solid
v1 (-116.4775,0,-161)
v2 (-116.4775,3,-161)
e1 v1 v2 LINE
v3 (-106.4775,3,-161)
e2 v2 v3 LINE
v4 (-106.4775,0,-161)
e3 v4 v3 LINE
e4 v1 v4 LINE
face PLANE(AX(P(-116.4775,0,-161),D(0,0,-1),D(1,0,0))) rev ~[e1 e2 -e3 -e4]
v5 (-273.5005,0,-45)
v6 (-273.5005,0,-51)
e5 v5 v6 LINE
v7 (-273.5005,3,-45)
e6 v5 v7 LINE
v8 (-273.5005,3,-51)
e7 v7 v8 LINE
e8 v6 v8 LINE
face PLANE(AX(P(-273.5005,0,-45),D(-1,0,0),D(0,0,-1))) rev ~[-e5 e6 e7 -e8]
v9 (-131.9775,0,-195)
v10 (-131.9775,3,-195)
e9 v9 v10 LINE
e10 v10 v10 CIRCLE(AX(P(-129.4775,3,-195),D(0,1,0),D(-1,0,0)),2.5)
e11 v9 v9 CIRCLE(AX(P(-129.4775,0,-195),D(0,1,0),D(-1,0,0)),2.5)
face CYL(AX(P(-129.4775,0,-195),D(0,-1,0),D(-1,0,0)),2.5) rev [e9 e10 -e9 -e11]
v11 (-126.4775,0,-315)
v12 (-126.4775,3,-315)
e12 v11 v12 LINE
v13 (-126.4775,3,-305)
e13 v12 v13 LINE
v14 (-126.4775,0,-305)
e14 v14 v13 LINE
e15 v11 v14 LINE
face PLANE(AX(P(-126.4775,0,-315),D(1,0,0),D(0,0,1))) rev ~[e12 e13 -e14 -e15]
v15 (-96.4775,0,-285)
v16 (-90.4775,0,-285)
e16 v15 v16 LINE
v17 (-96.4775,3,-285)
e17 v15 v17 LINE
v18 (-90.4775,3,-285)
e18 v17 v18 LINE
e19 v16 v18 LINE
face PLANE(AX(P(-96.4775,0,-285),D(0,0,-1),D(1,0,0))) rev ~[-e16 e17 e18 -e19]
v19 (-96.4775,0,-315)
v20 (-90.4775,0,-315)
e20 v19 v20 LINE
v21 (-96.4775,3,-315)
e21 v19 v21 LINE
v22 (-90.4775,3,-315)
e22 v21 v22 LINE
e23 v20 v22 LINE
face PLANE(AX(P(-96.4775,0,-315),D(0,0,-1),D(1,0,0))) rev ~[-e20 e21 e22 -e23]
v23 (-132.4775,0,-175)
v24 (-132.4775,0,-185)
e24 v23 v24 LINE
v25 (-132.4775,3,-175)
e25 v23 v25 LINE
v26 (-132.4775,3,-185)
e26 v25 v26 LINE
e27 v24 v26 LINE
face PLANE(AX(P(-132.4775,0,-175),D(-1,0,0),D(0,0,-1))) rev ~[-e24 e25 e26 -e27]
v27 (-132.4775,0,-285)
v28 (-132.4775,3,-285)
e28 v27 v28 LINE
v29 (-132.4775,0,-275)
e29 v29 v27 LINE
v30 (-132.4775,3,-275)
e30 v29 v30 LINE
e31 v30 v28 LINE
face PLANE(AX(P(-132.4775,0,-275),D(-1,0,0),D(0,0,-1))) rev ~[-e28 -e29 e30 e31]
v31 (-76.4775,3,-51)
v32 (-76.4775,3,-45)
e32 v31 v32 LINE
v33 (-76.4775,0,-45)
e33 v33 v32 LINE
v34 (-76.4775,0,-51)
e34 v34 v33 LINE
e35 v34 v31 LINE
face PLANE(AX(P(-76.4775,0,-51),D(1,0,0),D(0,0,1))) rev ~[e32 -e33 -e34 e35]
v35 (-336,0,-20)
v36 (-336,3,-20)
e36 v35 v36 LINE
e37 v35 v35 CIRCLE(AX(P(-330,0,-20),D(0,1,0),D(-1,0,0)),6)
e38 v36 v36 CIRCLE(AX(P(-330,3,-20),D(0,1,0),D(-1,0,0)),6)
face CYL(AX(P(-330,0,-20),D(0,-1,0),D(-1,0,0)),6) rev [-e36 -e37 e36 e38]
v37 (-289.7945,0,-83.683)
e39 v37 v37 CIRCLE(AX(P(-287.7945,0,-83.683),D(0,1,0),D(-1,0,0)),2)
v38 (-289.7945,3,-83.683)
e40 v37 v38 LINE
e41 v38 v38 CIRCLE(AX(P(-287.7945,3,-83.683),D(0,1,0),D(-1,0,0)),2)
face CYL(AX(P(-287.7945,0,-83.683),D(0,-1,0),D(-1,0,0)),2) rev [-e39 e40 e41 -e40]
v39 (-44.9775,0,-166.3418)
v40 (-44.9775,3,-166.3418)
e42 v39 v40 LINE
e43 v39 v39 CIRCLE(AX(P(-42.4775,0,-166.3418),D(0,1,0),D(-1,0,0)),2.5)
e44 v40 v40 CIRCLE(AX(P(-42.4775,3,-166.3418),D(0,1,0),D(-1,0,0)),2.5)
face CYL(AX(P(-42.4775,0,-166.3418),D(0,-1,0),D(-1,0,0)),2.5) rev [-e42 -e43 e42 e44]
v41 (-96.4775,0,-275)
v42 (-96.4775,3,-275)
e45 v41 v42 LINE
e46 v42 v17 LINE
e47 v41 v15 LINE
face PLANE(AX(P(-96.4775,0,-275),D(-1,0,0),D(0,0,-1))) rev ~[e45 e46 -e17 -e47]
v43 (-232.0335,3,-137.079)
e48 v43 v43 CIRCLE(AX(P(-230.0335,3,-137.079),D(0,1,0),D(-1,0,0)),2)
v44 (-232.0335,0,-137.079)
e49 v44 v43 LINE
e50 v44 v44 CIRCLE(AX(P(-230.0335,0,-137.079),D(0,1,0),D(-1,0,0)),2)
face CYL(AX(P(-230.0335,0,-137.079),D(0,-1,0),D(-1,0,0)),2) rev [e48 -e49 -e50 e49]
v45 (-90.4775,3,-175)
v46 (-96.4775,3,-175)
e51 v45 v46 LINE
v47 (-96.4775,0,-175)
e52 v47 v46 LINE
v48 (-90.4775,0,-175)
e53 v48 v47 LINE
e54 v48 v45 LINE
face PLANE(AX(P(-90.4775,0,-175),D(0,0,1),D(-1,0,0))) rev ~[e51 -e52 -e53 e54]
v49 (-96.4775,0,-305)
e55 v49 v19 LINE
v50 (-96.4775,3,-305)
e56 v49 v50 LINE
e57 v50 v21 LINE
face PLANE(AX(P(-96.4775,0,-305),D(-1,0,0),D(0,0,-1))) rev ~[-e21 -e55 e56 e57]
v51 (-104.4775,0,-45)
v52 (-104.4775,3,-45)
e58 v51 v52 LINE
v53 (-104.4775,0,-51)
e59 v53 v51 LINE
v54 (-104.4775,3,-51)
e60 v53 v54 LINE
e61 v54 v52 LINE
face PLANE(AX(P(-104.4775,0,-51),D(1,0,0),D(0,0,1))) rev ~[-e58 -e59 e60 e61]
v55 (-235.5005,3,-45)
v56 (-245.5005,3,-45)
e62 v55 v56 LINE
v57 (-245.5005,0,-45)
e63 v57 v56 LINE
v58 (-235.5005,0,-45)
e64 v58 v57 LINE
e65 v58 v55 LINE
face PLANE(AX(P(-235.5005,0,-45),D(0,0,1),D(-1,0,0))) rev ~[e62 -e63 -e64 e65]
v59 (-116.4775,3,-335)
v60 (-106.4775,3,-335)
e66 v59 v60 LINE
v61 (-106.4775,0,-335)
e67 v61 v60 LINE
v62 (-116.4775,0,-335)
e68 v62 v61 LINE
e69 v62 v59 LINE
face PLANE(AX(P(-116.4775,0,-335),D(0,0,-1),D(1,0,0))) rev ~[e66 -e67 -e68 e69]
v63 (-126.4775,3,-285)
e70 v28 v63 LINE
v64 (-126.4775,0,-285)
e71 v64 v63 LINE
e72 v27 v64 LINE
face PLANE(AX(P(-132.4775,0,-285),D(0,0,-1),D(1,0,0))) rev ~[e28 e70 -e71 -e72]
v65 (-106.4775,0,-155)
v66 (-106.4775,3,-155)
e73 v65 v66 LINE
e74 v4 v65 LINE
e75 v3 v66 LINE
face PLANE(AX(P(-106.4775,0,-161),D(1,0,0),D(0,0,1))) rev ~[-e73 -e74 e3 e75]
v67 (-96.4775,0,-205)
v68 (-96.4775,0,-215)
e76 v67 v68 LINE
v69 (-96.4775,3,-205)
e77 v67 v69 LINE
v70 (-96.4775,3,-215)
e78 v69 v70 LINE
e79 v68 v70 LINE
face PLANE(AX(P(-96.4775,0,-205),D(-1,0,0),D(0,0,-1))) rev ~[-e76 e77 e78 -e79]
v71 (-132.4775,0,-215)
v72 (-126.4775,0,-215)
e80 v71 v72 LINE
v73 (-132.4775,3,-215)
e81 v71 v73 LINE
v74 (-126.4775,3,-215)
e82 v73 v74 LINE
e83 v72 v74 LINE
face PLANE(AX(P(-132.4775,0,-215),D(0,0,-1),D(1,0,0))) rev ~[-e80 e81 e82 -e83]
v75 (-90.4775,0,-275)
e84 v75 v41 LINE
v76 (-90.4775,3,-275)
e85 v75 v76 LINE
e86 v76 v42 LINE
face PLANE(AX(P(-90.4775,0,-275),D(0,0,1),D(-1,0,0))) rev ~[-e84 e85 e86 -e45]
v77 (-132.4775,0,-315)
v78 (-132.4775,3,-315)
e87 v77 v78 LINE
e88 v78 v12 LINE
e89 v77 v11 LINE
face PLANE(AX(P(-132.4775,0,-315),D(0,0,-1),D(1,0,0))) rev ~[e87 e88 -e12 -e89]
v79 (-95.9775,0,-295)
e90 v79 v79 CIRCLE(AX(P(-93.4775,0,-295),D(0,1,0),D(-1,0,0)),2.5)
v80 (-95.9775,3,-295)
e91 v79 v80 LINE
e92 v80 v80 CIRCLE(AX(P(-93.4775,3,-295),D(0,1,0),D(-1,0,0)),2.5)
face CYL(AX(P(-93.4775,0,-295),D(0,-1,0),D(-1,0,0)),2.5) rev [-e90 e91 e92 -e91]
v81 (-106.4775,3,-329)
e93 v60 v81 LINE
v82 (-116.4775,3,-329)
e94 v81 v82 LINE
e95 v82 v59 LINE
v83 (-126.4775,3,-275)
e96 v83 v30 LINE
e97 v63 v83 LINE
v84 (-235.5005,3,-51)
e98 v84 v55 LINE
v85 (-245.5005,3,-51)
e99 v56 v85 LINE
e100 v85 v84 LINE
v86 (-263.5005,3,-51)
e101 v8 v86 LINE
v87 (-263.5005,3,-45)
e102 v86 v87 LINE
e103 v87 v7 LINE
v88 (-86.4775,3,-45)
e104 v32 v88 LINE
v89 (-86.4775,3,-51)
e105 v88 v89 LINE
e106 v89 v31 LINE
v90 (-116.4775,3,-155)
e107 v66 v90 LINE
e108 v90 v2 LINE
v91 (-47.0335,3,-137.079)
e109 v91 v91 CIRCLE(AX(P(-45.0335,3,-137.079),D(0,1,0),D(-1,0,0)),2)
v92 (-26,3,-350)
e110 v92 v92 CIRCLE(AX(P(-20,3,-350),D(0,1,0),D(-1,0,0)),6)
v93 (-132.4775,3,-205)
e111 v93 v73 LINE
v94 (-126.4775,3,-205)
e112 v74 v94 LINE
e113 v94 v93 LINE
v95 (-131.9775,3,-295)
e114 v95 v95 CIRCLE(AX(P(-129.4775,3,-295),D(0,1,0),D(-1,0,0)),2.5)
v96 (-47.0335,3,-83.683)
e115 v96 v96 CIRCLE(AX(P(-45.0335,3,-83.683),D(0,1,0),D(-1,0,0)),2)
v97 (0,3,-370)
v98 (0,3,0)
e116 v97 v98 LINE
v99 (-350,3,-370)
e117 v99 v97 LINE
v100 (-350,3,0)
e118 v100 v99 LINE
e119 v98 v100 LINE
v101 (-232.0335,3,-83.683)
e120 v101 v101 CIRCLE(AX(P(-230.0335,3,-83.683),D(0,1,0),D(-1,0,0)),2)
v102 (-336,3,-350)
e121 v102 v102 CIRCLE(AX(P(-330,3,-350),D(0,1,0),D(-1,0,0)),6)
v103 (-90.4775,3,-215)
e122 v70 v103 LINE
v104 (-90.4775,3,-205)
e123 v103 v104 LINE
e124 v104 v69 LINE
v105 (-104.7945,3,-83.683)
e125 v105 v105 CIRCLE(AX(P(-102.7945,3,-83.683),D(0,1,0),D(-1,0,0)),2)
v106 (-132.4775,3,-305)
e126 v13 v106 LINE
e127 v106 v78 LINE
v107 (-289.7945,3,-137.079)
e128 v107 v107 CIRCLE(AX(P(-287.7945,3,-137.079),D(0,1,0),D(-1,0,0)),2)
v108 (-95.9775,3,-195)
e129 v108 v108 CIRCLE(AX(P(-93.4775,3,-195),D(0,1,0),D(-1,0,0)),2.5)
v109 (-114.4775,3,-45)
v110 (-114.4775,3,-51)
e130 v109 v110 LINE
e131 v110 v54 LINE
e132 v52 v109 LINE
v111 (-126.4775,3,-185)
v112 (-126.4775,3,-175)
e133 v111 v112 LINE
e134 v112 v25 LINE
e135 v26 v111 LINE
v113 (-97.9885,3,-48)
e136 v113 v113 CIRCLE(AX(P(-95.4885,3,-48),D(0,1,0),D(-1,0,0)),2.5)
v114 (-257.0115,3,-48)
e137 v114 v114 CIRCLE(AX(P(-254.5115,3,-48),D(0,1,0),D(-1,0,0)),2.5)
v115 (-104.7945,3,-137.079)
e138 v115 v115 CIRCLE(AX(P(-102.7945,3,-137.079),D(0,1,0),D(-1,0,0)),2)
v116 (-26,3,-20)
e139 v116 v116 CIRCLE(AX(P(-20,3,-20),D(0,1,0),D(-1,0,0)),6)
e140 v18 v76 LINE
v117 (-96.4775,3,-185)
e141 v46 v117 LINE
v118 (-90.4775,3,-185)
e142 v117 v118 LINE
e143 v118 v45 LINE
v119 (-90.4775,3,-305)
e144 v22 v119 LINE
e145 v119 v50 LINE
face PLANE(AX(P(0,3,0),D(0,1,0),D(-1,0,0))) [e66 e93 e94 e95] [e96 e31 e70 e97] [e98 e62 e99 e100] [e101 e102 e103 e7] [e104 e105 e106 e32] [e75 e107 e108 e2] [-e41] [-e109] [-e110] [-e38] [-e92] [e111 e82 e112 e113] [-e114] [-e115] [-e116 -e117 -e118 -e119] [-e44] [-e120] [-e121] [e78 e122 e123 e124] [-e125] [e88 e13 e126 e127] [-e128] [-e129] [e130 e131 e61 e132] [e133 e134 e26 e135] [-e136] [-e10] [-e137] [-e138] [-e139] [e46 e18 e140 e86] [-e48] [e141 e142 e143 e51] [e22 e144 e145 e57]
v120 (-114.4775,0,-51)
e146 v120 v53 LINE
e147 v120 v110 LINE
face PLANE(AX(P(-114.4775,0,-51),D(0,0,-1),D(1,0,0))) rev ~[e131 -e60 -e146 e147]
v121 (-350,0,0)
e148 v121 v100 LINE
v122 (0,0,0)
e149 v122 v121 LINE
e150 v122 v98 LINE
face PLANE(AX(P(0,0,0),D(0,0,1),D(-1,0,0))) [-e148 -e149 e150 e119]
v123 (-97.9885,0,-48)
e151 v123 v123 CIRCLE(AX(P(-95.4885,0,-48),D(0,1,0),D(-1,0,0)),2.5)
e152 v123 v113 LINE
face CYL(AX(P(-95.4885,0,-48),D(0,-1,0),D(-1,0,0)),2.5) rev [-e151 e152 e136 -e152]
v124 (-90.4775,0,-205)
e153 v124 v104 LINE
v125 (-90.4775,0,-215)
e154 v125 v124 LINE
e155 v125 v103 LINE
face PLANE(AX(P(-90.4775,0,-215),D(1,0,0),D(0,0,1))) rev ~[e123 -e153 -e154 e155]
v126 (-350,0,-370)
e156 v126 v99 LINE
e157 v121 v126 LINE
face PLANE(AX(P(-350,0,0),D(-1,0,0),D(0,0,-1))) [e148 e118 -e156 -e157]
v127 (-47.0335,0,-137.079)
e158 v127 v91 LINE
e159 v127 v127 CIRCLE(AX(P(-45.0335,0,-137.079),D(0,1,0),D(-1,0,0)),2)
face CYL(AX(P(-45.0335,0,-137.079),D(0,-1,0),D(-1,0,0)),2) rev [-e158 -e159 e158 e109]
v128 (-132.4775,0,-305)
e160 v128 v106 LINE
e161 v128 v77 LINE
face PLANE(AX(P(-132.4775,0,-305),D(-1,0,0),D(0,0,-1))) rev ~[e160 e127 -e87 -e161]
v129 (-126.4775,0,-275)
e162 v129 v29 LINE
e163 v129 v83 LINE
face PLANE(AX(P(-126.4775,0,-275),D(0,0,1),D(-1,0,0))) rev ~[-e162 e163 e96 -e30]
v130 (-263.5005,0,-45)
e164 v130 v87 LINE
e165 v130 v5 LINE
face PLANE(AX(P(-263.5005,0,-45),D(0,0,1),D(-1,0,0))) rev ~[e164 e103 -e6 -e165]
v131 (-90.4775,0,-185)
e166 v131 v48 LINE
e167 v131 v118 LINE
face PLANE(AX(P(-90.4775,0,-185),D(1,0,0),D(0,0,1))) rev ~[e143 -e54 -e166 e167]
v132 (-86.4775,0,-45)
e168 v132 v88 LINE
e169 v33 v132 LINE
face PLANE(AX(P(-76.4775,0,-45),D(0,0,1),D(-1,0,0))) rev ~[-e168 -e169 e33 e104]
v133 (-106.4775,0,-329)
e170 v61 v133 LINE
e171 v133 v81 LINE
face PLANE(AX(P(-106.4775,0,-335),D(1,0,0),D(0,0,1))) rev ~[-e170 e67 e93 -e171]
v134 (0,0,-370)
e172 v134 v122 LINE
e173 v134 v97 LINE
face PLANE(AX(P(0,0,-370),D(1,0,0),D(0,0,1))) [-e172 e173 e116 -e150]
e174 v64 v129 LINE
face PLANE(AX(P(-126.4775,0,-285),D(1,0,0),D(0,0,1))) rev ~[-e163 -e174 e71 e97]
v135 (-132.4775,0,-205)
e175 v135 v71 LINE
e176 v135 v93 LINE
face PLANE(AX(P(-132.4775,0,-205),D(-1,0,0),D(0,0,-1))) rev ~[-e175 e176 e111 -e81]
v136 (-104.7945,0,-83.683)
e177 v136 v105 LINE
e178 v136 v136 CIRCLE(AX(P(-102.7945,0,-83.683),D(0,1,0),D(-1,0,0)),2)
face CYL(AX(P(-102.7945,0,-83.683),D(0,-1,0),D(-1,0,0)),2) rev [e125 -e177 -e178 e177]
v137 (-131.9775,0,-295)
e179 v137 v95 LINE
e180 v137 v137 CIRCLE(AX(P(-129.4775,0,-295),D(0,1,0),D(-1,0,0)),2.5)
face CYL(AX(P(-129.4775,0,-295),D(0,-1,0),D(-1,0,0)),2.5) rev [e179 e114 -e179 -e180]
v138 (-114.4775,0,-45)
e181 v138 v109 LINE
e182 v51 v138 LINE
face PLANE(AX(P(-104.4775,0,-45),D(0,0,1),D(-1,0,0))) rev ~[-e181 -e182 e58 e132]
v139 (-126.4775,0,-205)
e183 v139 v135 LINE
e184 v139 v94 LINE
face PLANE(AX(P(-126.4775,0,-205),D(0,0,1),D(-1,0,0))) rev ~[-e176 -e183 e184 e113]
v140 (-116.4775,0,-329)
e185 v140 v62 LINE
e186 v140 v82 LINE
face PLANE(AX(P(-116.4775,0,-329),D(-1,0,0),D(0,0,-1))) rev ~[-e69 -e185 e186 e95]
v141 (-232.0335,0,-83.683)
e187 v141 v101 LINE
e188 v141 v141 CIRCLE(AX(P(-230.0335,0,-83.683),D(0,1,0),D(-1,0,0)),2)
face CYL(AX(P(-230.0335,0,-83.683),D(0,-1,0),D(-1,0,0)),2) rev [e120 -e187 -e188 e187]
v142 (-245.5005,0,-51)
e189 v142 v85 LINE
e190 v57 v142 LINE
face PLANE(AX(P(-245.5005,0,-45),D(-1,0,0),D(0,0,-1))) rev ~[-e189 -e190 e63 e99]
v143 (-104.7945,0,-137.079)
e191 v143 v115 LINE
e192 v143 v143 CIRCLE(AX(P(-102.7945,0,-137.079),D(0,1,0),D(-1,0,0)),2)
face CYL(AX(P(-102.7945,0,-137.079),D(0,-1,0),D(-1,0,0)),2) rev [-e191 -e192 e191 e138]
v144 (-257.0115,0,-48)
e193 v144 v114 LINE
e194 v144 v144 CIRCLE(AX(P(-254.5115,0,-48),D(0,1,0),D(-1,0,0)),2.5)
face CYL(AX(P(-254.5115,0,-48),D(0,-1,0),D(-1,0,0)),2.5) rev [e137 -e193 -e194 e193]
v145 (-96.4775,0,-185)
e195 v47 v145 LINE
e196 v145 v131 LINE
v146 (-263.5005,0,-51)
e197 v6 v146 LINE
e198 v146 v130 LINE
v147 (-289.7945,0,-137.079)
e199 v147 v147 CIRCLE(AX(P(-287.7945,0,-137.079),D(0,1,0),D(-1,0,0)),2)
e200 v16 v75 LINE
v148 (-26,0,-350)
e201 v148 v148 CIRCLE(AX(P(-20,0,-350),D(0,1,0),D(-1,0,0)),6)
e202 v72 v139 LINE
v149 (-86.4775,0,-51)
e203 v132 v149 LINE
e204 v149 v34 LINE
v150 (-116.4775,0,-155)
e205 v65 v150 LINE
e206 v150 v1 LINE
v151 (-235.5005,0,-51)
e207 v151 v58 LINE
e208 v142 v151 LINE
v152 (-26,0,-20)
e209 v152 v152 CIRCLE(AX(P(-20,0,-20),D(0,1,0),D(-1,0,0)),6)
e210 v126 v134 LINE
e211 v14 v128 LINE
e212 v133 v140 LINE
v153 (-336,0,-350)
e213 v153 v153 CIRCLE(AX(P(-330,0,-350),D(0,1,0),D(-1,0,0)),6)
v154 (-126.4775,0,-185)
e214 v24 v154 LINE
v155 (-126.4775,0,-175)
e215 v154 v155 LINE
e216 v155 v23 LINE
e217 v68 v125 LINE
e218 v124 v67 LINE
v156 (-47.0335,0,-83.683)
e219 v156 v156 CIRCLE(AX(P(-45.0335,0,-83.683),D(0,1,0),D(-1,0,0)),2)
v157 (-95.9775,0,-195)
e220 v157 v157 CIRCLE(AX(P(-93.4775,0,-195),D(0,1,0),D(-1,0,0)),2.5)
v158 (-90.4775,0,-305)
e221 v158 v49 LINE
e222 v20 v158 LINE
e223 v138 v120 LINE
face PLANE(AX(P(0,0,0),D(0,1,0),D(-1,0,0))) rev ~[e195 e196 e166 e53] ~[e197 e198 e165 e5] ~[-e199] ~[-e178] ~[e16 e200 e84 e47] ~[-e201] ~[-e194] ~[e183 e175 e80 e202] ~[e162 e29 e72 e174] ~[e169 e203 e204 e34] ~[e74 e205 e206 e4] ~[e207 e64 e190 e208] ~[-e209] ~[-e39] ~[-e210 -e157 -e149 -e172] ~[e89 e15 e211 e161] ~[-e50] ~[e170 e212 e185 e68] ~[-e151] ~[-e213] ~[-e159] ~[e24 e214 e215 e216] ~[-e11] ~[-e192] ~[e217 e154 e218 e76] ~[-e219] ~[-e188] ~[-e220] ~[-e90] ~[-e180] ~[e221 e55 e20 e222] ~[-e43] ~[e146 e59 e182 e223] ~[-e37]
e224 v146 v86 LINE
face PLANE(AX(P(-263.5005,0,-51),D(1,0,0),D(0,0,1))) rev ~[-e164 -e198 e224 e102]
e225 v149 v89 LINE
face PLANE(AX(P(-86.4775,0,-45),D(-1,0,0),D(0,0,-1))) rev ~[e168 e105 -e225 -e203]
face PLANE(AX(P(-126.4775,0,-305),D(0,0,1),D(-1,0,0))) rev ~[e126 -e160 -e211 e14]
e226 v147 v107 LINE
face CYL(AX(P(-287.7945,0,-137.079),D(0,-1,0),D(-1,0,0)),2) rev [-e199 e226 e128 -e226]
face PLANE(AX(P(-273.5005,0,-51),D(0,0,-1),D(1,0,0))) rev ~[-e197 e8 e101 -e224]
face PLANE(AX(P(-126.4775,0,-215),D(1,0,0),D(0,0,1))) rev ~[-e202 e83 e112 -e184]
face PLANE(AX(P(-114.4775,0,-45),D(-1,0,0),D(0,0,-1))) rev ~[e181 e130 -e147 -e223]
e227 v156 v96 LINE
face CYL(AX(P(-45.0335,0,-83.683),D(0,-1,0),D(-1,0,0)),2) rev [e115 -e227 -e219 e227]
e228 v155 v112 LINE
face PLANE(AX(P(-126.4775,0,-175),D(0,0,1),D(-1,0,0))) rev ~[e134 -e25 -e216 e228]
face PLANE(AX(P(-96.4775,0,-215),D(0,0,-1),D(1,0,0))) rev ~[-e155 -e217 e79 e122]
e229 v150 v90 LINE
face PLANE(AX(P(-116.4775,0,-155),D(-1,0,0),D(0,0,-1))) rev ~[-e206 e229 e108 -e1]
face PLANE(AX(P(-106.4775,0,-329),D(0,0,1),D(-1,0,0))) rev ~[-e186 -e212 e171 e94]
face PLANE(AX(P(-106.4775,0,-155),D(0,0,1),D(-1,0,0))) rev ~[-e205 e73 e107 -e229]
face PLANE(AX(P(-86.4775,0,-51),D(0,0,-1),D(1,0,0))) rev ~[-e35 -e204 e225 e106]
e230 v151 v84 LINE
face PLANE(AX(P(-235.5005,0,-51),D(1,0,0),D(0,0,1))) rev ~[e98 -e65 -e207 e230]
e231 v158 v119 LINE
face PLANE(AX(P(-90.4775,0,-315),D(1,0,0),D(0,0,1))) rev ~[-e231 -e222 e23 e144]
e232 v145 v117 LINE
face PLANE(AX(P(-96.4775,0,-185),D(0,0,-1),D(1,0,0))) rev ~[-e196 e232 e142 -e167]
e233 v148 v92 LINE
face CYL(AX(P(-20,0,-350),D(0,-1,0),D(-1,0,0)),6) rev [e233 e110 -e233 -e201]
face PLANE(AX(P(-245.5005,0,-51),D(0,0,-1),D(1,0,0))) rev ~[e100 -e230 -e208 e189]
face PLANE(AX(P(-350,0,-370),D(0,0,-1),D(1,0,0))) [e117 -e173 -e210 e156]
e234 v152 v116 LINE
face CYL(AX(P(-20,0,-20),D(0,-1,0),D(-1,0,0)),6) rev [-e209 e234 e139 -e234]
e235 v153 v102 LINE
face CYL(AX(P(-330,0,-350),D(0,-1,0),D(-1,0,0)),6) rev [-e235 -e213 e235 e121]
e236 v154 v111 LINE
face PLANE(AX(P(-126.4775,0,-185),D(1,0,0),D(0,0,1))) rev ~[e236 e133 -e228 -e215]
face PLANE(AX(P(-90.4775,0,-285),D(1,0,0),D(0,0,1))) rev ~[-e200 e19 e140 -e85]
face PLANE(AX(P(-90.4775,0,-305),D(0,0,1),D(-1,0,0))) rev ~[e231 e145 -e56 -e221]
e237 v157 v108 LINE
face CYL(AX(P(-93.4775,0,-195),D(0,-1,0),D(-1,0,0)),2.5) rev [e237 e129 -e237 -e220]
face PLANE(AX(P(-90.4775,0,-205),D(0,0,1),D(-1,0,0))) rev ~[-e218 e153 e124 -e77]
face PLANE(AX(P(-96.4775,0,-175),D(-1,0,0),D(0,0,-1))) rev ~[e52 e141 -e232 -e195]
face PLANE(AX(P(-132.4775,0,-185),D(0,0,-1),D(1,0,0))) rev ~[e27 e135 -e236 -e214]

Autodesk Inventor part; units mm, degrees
ref_plane "YZ Plane" through (0, 0, 0) normal (1, 0, 0) x (0, 1, 0)
ref_plane "XZ Plane" through (0, 0, 0) normal (0, 1, 0) x (-1, 0, 0)
ref_plane "XY Plane" through (0, 0, 0) normal (0, 0, 1) x (1, 0, 0)
sketch "Boceto1" plane through (0, 0, 0) normal (0, 1, 0) x (-1, 0, 0)
  line L0 (0, 0) -> (350, 0)
  line L1 (350, 0) -> (350, -370)
  line L2 (350, -370) -> (0, -370)
  line L3 (0, -370) -> (0, 0)
  circle A0 centre (20, -350) radius 6
  circle A1 centre (254.5115, -48) radius 2.5
  circle A2 centre (95.4885, -48) radius 2.5
  line L4 (245.5005, -51) -> (235.5005, -51)
  line L5 (235.5005, -51) -> (235.5005, -45)
  line L6 (235.5005, -45) -> (245.5005, -45)
  line L7 (245.5005, -45) -> (245.5005, -51)
  line L8 (273.5005, -51) -> (263.5005, -51)
  line L9 (263.5005, -51) -> (263.5005, -45)
  line L10 (263.5005, -45) -> (273.5005, -45)
  line L11 (273.5005, -45) -> (273.5005, -51)
  line L12 (114.4775, -51) -> (104.4775, -51)
  line L13 (104.4775, -51) -> (104.4775, -45)
  line L14 (104.4775, -45) -> (114.4775, -45)
  line L15 (114.4775, -45) -> (114.4775, -51)
  line L16 (86.4775, -51) -> (76.4775, -51)
  line L17 (76.4775, -51) -> (76.4775, -45)
  line L18 (76.4775, -45) -> (86.4775, -45)
  line L19 (86.4775, -45) -> (86.4775, -51)
  line L20 (254.5115, -48) -> (95.4885, -48) construction
  line L21 (114.4775, -45) -> (129.4775, -45) construction
  line L22 (129.4775, -45) -> (129.4775, -295) construction
  circle A3 centre (129.4775, -295) radius 2.5
  line L23 (132.4775, -315) -> (126.4775, -315)
  line L24 (126.4775, -315) -> (126.4775, -305)
  line L25 (126.4775, -305) -> (132.4775, -305)
  line L26 (132.4775, -305) -> (132.4775, -315)
  line L27 (132.4775, -285) -> (126.4775, -285)
  line L28 (126.4775, -285) -> (126.4775, -275)
  line L29 (126.4775, -275) -> (132.4775, -275)
  line L30 (132.4775, -275) -> (132.4775, -285)
  line L31 (132.4775, -215) -> (126.4775, -215)
  line L32 (126.4775, -215) -> (126.4775, -205)
  line L33 (126.4775, -205) -> (132.4775, -205)
  line L34 (132.4775, -205) -> (132.4775, -215)
  circle A4 centre (129.4775, -195) radius 2.5
  line L35 (132.4775, -185) -> (126.4775, -185)
  line L36 (126.4775, -185) -> (126.4775, -175)
  line L37 (126.4775, -175) -> (132.4775, -175)
  line L38 (132.4775, -175) -> (132.4775, -185)
  line L39 (96.4775, -315) -> (90.4775, -315)
  line L40 (90.4775, -315) -> (90.4775, -305)
  line L41 (90.4775, -305) -> (96.4775, -305)
  line L42 (96.4775, -305) -> (96.4775, -315)
  circle A5 centre (93.4775, -295) radius 2.5
  line L43 (96.4775, -285) -> (90.4775, -285)
  line L44 (90.4775, -285) -> (90.4775, -275)
  line L45 (90.4775, -275) -> (96.4775, -275)
  line L46 (96.4775, -275) -> (96.4775, -285)
  line L47 (96.4775, -215) -> (90.4775, -215)
  line L48 (90.4775, -215) -> (90.4775, -205)
  line L49 (90.4775, -205) -> (96.4775, -205)
  line L50 (96.4775, -205) -> (96.4775, -215)
  line L51 (96.4775, -185) -> (90.4775, -185)
  line L52 (90.4775, -185) -> (90.4775, -175)
  line L53 (90.4775, -175) -> (96.4775, -175)
  line L54 (96.4775, -175) -> (96.4775, -185)
  circle A6 centre (93.4775, -195) radius 2.5
  line L55 (116.4775, -335) -> (106.4775, -335)
  line L56 (106.4775, -335) -> (106.4775, -329)
  line L57 (106.4775, -329) -> (116.4775, -329)
  line L58 (116.4775, -329) -> (116.4775, -335)
  line L59 (116.4775, -161) -> (106.4775, -161)
  line L60 (106.4775, -161) -> (106.4775, -155)
  line L61 (106.4775, -155) -> (116.4775, -155)
  line L62 (116.4775, -155) -> (116.4775, -161)
  circle A7 centre (330, -350) radius 6
  circle A8 centre (330, -20) radius 6
  circle A9 centre (20, -20) radius 6
  line L63 (106.4775, -140) -> (41.4775, -140) construction
  line L64 (41.4775, -140) -> (41.4775, -80) construction
  line L65 (41.4775, -80) -> (106.4775, -80) construction
  line L66 (106.4775, -80) -> (106.4775, -140) construction
  circle A10 centre (42.4775, -166.3418) radius 2.5
  circle A11 centre (102.7945, -137.079) radius 2
  circle A12 centre (45.0335, -137.079) radius 2
  circle A13 centre (45.0335, -83.683) radius 2
  circle A14 centre (102.7945, -83.683) radius 2
  line L67 (291.4775, -140) -> (226.4775, -140) construction
  line L68 (226.4775, -140) -> (226.4775, -80) construction
  line L69 (226.4775, -80) -> (291.4775, -80) construction
  line L70 (291.4775, -80) -> (291.4775, -140) construction
  circle A15 centre (287.7945, -137.079) radius 2
  circle A16 centre (230.0335, -137.079) radius 2
  circle A17 centre (230.0335, -83.683) radius 2
  circle A18 centre (287.7945, -83.683) radius 2
  point P0 (235.5005, -48)
  point P1 (263.5005, -48)
  point P2 (104.4775, -48)
  point P3 (175, 0)
  point P4 (175, -48)
  point P5 (129.4775, -305)
  point P6 (129.4775, -285)
  point P7 (129.4775, -215)
  point P8 (129.4775, -275)
  point P9 (129.4775, -185)
  point P10 (126.4775, -310)
  point P11 (96.4775, -310)
  point P12 (93.4775, -305)
  point P13 (93.4775, -285)
  point P14 (93.4775, -215)
  point P15 (93.4775, -275)
  point P16 (93.4775, -205)
  point P17 (93.4775, -175)
  dimension "d0" = 350
  dimension "d1" = 370
  dimension "d4" = 12
  dimension "d5" = 20
  dimension "d6" = 20
  dimension "d7" = 5
  dimension "d8" = 5
  dimension "d11" = 10
  dimension "d12" = 6
  dimension "d13" = 10
  dimension "d15" = 18
  dimension "d16" = 6
  dimension "d17" = 9.011
  dimension "d18" = 10
  dimension "d19" = 6
  dimension "d20" = 10
  dimension "d21" = 6
  dimension "d22" = 18
  dimension "d23" = 9.011
  dimension "d26" = 121.023
  dimension "d27" = 45
  dimension "d29" = 15
  dimension "d30" = 250
  dimension "d31" = 5
  dimension "d33" = 10
  dimension "d34" = 6
  dimension "d35" = 10
  dimension "d36" = 20
  dimension "d37" = 10
  dimension "d39" = 10
  dimension "d40" = 60
  dimension "d41" = 6
  dimension "d42" = 5
  dimension "d43" = 10
  dimension "d44" = 6
  dimension "d45" = 10
  dimension "d46" = 20
  dimension "d48" = 10
  dimension "d50" = 42
  dimension "d51" = 6
  dimension "d52" = 6
  dimension "d53" = 5
  dimension "d54" = 6
  dimension "d55" = 10
  dimension "d56" = 5
  dimension "d57" = 20
  dimension "d58" = 10
  dimension "d59" = 6
  dimension "d60" = 10
  dimension "d61" = 10
  dimension "d62" = 6
  dimension "d64" = 16
  dimension "d66" = 10
  dimension "d67" = 6
  dimension "d68" = 16
  dimension "d70" = 20
  dimension "d71" = 20
  dimension "d73" = 20
  dimension "d77" = 20
  dimension "d81" = 65
  dimension "d82" = 60
  dimension "d83" = 5
  dimension "d84" = 11.3418
  dimension "d85" = 48
extrude "Extrusión1" add sketch "Boceto1" along normal blind 3
properties part number "BaseProyecto"
